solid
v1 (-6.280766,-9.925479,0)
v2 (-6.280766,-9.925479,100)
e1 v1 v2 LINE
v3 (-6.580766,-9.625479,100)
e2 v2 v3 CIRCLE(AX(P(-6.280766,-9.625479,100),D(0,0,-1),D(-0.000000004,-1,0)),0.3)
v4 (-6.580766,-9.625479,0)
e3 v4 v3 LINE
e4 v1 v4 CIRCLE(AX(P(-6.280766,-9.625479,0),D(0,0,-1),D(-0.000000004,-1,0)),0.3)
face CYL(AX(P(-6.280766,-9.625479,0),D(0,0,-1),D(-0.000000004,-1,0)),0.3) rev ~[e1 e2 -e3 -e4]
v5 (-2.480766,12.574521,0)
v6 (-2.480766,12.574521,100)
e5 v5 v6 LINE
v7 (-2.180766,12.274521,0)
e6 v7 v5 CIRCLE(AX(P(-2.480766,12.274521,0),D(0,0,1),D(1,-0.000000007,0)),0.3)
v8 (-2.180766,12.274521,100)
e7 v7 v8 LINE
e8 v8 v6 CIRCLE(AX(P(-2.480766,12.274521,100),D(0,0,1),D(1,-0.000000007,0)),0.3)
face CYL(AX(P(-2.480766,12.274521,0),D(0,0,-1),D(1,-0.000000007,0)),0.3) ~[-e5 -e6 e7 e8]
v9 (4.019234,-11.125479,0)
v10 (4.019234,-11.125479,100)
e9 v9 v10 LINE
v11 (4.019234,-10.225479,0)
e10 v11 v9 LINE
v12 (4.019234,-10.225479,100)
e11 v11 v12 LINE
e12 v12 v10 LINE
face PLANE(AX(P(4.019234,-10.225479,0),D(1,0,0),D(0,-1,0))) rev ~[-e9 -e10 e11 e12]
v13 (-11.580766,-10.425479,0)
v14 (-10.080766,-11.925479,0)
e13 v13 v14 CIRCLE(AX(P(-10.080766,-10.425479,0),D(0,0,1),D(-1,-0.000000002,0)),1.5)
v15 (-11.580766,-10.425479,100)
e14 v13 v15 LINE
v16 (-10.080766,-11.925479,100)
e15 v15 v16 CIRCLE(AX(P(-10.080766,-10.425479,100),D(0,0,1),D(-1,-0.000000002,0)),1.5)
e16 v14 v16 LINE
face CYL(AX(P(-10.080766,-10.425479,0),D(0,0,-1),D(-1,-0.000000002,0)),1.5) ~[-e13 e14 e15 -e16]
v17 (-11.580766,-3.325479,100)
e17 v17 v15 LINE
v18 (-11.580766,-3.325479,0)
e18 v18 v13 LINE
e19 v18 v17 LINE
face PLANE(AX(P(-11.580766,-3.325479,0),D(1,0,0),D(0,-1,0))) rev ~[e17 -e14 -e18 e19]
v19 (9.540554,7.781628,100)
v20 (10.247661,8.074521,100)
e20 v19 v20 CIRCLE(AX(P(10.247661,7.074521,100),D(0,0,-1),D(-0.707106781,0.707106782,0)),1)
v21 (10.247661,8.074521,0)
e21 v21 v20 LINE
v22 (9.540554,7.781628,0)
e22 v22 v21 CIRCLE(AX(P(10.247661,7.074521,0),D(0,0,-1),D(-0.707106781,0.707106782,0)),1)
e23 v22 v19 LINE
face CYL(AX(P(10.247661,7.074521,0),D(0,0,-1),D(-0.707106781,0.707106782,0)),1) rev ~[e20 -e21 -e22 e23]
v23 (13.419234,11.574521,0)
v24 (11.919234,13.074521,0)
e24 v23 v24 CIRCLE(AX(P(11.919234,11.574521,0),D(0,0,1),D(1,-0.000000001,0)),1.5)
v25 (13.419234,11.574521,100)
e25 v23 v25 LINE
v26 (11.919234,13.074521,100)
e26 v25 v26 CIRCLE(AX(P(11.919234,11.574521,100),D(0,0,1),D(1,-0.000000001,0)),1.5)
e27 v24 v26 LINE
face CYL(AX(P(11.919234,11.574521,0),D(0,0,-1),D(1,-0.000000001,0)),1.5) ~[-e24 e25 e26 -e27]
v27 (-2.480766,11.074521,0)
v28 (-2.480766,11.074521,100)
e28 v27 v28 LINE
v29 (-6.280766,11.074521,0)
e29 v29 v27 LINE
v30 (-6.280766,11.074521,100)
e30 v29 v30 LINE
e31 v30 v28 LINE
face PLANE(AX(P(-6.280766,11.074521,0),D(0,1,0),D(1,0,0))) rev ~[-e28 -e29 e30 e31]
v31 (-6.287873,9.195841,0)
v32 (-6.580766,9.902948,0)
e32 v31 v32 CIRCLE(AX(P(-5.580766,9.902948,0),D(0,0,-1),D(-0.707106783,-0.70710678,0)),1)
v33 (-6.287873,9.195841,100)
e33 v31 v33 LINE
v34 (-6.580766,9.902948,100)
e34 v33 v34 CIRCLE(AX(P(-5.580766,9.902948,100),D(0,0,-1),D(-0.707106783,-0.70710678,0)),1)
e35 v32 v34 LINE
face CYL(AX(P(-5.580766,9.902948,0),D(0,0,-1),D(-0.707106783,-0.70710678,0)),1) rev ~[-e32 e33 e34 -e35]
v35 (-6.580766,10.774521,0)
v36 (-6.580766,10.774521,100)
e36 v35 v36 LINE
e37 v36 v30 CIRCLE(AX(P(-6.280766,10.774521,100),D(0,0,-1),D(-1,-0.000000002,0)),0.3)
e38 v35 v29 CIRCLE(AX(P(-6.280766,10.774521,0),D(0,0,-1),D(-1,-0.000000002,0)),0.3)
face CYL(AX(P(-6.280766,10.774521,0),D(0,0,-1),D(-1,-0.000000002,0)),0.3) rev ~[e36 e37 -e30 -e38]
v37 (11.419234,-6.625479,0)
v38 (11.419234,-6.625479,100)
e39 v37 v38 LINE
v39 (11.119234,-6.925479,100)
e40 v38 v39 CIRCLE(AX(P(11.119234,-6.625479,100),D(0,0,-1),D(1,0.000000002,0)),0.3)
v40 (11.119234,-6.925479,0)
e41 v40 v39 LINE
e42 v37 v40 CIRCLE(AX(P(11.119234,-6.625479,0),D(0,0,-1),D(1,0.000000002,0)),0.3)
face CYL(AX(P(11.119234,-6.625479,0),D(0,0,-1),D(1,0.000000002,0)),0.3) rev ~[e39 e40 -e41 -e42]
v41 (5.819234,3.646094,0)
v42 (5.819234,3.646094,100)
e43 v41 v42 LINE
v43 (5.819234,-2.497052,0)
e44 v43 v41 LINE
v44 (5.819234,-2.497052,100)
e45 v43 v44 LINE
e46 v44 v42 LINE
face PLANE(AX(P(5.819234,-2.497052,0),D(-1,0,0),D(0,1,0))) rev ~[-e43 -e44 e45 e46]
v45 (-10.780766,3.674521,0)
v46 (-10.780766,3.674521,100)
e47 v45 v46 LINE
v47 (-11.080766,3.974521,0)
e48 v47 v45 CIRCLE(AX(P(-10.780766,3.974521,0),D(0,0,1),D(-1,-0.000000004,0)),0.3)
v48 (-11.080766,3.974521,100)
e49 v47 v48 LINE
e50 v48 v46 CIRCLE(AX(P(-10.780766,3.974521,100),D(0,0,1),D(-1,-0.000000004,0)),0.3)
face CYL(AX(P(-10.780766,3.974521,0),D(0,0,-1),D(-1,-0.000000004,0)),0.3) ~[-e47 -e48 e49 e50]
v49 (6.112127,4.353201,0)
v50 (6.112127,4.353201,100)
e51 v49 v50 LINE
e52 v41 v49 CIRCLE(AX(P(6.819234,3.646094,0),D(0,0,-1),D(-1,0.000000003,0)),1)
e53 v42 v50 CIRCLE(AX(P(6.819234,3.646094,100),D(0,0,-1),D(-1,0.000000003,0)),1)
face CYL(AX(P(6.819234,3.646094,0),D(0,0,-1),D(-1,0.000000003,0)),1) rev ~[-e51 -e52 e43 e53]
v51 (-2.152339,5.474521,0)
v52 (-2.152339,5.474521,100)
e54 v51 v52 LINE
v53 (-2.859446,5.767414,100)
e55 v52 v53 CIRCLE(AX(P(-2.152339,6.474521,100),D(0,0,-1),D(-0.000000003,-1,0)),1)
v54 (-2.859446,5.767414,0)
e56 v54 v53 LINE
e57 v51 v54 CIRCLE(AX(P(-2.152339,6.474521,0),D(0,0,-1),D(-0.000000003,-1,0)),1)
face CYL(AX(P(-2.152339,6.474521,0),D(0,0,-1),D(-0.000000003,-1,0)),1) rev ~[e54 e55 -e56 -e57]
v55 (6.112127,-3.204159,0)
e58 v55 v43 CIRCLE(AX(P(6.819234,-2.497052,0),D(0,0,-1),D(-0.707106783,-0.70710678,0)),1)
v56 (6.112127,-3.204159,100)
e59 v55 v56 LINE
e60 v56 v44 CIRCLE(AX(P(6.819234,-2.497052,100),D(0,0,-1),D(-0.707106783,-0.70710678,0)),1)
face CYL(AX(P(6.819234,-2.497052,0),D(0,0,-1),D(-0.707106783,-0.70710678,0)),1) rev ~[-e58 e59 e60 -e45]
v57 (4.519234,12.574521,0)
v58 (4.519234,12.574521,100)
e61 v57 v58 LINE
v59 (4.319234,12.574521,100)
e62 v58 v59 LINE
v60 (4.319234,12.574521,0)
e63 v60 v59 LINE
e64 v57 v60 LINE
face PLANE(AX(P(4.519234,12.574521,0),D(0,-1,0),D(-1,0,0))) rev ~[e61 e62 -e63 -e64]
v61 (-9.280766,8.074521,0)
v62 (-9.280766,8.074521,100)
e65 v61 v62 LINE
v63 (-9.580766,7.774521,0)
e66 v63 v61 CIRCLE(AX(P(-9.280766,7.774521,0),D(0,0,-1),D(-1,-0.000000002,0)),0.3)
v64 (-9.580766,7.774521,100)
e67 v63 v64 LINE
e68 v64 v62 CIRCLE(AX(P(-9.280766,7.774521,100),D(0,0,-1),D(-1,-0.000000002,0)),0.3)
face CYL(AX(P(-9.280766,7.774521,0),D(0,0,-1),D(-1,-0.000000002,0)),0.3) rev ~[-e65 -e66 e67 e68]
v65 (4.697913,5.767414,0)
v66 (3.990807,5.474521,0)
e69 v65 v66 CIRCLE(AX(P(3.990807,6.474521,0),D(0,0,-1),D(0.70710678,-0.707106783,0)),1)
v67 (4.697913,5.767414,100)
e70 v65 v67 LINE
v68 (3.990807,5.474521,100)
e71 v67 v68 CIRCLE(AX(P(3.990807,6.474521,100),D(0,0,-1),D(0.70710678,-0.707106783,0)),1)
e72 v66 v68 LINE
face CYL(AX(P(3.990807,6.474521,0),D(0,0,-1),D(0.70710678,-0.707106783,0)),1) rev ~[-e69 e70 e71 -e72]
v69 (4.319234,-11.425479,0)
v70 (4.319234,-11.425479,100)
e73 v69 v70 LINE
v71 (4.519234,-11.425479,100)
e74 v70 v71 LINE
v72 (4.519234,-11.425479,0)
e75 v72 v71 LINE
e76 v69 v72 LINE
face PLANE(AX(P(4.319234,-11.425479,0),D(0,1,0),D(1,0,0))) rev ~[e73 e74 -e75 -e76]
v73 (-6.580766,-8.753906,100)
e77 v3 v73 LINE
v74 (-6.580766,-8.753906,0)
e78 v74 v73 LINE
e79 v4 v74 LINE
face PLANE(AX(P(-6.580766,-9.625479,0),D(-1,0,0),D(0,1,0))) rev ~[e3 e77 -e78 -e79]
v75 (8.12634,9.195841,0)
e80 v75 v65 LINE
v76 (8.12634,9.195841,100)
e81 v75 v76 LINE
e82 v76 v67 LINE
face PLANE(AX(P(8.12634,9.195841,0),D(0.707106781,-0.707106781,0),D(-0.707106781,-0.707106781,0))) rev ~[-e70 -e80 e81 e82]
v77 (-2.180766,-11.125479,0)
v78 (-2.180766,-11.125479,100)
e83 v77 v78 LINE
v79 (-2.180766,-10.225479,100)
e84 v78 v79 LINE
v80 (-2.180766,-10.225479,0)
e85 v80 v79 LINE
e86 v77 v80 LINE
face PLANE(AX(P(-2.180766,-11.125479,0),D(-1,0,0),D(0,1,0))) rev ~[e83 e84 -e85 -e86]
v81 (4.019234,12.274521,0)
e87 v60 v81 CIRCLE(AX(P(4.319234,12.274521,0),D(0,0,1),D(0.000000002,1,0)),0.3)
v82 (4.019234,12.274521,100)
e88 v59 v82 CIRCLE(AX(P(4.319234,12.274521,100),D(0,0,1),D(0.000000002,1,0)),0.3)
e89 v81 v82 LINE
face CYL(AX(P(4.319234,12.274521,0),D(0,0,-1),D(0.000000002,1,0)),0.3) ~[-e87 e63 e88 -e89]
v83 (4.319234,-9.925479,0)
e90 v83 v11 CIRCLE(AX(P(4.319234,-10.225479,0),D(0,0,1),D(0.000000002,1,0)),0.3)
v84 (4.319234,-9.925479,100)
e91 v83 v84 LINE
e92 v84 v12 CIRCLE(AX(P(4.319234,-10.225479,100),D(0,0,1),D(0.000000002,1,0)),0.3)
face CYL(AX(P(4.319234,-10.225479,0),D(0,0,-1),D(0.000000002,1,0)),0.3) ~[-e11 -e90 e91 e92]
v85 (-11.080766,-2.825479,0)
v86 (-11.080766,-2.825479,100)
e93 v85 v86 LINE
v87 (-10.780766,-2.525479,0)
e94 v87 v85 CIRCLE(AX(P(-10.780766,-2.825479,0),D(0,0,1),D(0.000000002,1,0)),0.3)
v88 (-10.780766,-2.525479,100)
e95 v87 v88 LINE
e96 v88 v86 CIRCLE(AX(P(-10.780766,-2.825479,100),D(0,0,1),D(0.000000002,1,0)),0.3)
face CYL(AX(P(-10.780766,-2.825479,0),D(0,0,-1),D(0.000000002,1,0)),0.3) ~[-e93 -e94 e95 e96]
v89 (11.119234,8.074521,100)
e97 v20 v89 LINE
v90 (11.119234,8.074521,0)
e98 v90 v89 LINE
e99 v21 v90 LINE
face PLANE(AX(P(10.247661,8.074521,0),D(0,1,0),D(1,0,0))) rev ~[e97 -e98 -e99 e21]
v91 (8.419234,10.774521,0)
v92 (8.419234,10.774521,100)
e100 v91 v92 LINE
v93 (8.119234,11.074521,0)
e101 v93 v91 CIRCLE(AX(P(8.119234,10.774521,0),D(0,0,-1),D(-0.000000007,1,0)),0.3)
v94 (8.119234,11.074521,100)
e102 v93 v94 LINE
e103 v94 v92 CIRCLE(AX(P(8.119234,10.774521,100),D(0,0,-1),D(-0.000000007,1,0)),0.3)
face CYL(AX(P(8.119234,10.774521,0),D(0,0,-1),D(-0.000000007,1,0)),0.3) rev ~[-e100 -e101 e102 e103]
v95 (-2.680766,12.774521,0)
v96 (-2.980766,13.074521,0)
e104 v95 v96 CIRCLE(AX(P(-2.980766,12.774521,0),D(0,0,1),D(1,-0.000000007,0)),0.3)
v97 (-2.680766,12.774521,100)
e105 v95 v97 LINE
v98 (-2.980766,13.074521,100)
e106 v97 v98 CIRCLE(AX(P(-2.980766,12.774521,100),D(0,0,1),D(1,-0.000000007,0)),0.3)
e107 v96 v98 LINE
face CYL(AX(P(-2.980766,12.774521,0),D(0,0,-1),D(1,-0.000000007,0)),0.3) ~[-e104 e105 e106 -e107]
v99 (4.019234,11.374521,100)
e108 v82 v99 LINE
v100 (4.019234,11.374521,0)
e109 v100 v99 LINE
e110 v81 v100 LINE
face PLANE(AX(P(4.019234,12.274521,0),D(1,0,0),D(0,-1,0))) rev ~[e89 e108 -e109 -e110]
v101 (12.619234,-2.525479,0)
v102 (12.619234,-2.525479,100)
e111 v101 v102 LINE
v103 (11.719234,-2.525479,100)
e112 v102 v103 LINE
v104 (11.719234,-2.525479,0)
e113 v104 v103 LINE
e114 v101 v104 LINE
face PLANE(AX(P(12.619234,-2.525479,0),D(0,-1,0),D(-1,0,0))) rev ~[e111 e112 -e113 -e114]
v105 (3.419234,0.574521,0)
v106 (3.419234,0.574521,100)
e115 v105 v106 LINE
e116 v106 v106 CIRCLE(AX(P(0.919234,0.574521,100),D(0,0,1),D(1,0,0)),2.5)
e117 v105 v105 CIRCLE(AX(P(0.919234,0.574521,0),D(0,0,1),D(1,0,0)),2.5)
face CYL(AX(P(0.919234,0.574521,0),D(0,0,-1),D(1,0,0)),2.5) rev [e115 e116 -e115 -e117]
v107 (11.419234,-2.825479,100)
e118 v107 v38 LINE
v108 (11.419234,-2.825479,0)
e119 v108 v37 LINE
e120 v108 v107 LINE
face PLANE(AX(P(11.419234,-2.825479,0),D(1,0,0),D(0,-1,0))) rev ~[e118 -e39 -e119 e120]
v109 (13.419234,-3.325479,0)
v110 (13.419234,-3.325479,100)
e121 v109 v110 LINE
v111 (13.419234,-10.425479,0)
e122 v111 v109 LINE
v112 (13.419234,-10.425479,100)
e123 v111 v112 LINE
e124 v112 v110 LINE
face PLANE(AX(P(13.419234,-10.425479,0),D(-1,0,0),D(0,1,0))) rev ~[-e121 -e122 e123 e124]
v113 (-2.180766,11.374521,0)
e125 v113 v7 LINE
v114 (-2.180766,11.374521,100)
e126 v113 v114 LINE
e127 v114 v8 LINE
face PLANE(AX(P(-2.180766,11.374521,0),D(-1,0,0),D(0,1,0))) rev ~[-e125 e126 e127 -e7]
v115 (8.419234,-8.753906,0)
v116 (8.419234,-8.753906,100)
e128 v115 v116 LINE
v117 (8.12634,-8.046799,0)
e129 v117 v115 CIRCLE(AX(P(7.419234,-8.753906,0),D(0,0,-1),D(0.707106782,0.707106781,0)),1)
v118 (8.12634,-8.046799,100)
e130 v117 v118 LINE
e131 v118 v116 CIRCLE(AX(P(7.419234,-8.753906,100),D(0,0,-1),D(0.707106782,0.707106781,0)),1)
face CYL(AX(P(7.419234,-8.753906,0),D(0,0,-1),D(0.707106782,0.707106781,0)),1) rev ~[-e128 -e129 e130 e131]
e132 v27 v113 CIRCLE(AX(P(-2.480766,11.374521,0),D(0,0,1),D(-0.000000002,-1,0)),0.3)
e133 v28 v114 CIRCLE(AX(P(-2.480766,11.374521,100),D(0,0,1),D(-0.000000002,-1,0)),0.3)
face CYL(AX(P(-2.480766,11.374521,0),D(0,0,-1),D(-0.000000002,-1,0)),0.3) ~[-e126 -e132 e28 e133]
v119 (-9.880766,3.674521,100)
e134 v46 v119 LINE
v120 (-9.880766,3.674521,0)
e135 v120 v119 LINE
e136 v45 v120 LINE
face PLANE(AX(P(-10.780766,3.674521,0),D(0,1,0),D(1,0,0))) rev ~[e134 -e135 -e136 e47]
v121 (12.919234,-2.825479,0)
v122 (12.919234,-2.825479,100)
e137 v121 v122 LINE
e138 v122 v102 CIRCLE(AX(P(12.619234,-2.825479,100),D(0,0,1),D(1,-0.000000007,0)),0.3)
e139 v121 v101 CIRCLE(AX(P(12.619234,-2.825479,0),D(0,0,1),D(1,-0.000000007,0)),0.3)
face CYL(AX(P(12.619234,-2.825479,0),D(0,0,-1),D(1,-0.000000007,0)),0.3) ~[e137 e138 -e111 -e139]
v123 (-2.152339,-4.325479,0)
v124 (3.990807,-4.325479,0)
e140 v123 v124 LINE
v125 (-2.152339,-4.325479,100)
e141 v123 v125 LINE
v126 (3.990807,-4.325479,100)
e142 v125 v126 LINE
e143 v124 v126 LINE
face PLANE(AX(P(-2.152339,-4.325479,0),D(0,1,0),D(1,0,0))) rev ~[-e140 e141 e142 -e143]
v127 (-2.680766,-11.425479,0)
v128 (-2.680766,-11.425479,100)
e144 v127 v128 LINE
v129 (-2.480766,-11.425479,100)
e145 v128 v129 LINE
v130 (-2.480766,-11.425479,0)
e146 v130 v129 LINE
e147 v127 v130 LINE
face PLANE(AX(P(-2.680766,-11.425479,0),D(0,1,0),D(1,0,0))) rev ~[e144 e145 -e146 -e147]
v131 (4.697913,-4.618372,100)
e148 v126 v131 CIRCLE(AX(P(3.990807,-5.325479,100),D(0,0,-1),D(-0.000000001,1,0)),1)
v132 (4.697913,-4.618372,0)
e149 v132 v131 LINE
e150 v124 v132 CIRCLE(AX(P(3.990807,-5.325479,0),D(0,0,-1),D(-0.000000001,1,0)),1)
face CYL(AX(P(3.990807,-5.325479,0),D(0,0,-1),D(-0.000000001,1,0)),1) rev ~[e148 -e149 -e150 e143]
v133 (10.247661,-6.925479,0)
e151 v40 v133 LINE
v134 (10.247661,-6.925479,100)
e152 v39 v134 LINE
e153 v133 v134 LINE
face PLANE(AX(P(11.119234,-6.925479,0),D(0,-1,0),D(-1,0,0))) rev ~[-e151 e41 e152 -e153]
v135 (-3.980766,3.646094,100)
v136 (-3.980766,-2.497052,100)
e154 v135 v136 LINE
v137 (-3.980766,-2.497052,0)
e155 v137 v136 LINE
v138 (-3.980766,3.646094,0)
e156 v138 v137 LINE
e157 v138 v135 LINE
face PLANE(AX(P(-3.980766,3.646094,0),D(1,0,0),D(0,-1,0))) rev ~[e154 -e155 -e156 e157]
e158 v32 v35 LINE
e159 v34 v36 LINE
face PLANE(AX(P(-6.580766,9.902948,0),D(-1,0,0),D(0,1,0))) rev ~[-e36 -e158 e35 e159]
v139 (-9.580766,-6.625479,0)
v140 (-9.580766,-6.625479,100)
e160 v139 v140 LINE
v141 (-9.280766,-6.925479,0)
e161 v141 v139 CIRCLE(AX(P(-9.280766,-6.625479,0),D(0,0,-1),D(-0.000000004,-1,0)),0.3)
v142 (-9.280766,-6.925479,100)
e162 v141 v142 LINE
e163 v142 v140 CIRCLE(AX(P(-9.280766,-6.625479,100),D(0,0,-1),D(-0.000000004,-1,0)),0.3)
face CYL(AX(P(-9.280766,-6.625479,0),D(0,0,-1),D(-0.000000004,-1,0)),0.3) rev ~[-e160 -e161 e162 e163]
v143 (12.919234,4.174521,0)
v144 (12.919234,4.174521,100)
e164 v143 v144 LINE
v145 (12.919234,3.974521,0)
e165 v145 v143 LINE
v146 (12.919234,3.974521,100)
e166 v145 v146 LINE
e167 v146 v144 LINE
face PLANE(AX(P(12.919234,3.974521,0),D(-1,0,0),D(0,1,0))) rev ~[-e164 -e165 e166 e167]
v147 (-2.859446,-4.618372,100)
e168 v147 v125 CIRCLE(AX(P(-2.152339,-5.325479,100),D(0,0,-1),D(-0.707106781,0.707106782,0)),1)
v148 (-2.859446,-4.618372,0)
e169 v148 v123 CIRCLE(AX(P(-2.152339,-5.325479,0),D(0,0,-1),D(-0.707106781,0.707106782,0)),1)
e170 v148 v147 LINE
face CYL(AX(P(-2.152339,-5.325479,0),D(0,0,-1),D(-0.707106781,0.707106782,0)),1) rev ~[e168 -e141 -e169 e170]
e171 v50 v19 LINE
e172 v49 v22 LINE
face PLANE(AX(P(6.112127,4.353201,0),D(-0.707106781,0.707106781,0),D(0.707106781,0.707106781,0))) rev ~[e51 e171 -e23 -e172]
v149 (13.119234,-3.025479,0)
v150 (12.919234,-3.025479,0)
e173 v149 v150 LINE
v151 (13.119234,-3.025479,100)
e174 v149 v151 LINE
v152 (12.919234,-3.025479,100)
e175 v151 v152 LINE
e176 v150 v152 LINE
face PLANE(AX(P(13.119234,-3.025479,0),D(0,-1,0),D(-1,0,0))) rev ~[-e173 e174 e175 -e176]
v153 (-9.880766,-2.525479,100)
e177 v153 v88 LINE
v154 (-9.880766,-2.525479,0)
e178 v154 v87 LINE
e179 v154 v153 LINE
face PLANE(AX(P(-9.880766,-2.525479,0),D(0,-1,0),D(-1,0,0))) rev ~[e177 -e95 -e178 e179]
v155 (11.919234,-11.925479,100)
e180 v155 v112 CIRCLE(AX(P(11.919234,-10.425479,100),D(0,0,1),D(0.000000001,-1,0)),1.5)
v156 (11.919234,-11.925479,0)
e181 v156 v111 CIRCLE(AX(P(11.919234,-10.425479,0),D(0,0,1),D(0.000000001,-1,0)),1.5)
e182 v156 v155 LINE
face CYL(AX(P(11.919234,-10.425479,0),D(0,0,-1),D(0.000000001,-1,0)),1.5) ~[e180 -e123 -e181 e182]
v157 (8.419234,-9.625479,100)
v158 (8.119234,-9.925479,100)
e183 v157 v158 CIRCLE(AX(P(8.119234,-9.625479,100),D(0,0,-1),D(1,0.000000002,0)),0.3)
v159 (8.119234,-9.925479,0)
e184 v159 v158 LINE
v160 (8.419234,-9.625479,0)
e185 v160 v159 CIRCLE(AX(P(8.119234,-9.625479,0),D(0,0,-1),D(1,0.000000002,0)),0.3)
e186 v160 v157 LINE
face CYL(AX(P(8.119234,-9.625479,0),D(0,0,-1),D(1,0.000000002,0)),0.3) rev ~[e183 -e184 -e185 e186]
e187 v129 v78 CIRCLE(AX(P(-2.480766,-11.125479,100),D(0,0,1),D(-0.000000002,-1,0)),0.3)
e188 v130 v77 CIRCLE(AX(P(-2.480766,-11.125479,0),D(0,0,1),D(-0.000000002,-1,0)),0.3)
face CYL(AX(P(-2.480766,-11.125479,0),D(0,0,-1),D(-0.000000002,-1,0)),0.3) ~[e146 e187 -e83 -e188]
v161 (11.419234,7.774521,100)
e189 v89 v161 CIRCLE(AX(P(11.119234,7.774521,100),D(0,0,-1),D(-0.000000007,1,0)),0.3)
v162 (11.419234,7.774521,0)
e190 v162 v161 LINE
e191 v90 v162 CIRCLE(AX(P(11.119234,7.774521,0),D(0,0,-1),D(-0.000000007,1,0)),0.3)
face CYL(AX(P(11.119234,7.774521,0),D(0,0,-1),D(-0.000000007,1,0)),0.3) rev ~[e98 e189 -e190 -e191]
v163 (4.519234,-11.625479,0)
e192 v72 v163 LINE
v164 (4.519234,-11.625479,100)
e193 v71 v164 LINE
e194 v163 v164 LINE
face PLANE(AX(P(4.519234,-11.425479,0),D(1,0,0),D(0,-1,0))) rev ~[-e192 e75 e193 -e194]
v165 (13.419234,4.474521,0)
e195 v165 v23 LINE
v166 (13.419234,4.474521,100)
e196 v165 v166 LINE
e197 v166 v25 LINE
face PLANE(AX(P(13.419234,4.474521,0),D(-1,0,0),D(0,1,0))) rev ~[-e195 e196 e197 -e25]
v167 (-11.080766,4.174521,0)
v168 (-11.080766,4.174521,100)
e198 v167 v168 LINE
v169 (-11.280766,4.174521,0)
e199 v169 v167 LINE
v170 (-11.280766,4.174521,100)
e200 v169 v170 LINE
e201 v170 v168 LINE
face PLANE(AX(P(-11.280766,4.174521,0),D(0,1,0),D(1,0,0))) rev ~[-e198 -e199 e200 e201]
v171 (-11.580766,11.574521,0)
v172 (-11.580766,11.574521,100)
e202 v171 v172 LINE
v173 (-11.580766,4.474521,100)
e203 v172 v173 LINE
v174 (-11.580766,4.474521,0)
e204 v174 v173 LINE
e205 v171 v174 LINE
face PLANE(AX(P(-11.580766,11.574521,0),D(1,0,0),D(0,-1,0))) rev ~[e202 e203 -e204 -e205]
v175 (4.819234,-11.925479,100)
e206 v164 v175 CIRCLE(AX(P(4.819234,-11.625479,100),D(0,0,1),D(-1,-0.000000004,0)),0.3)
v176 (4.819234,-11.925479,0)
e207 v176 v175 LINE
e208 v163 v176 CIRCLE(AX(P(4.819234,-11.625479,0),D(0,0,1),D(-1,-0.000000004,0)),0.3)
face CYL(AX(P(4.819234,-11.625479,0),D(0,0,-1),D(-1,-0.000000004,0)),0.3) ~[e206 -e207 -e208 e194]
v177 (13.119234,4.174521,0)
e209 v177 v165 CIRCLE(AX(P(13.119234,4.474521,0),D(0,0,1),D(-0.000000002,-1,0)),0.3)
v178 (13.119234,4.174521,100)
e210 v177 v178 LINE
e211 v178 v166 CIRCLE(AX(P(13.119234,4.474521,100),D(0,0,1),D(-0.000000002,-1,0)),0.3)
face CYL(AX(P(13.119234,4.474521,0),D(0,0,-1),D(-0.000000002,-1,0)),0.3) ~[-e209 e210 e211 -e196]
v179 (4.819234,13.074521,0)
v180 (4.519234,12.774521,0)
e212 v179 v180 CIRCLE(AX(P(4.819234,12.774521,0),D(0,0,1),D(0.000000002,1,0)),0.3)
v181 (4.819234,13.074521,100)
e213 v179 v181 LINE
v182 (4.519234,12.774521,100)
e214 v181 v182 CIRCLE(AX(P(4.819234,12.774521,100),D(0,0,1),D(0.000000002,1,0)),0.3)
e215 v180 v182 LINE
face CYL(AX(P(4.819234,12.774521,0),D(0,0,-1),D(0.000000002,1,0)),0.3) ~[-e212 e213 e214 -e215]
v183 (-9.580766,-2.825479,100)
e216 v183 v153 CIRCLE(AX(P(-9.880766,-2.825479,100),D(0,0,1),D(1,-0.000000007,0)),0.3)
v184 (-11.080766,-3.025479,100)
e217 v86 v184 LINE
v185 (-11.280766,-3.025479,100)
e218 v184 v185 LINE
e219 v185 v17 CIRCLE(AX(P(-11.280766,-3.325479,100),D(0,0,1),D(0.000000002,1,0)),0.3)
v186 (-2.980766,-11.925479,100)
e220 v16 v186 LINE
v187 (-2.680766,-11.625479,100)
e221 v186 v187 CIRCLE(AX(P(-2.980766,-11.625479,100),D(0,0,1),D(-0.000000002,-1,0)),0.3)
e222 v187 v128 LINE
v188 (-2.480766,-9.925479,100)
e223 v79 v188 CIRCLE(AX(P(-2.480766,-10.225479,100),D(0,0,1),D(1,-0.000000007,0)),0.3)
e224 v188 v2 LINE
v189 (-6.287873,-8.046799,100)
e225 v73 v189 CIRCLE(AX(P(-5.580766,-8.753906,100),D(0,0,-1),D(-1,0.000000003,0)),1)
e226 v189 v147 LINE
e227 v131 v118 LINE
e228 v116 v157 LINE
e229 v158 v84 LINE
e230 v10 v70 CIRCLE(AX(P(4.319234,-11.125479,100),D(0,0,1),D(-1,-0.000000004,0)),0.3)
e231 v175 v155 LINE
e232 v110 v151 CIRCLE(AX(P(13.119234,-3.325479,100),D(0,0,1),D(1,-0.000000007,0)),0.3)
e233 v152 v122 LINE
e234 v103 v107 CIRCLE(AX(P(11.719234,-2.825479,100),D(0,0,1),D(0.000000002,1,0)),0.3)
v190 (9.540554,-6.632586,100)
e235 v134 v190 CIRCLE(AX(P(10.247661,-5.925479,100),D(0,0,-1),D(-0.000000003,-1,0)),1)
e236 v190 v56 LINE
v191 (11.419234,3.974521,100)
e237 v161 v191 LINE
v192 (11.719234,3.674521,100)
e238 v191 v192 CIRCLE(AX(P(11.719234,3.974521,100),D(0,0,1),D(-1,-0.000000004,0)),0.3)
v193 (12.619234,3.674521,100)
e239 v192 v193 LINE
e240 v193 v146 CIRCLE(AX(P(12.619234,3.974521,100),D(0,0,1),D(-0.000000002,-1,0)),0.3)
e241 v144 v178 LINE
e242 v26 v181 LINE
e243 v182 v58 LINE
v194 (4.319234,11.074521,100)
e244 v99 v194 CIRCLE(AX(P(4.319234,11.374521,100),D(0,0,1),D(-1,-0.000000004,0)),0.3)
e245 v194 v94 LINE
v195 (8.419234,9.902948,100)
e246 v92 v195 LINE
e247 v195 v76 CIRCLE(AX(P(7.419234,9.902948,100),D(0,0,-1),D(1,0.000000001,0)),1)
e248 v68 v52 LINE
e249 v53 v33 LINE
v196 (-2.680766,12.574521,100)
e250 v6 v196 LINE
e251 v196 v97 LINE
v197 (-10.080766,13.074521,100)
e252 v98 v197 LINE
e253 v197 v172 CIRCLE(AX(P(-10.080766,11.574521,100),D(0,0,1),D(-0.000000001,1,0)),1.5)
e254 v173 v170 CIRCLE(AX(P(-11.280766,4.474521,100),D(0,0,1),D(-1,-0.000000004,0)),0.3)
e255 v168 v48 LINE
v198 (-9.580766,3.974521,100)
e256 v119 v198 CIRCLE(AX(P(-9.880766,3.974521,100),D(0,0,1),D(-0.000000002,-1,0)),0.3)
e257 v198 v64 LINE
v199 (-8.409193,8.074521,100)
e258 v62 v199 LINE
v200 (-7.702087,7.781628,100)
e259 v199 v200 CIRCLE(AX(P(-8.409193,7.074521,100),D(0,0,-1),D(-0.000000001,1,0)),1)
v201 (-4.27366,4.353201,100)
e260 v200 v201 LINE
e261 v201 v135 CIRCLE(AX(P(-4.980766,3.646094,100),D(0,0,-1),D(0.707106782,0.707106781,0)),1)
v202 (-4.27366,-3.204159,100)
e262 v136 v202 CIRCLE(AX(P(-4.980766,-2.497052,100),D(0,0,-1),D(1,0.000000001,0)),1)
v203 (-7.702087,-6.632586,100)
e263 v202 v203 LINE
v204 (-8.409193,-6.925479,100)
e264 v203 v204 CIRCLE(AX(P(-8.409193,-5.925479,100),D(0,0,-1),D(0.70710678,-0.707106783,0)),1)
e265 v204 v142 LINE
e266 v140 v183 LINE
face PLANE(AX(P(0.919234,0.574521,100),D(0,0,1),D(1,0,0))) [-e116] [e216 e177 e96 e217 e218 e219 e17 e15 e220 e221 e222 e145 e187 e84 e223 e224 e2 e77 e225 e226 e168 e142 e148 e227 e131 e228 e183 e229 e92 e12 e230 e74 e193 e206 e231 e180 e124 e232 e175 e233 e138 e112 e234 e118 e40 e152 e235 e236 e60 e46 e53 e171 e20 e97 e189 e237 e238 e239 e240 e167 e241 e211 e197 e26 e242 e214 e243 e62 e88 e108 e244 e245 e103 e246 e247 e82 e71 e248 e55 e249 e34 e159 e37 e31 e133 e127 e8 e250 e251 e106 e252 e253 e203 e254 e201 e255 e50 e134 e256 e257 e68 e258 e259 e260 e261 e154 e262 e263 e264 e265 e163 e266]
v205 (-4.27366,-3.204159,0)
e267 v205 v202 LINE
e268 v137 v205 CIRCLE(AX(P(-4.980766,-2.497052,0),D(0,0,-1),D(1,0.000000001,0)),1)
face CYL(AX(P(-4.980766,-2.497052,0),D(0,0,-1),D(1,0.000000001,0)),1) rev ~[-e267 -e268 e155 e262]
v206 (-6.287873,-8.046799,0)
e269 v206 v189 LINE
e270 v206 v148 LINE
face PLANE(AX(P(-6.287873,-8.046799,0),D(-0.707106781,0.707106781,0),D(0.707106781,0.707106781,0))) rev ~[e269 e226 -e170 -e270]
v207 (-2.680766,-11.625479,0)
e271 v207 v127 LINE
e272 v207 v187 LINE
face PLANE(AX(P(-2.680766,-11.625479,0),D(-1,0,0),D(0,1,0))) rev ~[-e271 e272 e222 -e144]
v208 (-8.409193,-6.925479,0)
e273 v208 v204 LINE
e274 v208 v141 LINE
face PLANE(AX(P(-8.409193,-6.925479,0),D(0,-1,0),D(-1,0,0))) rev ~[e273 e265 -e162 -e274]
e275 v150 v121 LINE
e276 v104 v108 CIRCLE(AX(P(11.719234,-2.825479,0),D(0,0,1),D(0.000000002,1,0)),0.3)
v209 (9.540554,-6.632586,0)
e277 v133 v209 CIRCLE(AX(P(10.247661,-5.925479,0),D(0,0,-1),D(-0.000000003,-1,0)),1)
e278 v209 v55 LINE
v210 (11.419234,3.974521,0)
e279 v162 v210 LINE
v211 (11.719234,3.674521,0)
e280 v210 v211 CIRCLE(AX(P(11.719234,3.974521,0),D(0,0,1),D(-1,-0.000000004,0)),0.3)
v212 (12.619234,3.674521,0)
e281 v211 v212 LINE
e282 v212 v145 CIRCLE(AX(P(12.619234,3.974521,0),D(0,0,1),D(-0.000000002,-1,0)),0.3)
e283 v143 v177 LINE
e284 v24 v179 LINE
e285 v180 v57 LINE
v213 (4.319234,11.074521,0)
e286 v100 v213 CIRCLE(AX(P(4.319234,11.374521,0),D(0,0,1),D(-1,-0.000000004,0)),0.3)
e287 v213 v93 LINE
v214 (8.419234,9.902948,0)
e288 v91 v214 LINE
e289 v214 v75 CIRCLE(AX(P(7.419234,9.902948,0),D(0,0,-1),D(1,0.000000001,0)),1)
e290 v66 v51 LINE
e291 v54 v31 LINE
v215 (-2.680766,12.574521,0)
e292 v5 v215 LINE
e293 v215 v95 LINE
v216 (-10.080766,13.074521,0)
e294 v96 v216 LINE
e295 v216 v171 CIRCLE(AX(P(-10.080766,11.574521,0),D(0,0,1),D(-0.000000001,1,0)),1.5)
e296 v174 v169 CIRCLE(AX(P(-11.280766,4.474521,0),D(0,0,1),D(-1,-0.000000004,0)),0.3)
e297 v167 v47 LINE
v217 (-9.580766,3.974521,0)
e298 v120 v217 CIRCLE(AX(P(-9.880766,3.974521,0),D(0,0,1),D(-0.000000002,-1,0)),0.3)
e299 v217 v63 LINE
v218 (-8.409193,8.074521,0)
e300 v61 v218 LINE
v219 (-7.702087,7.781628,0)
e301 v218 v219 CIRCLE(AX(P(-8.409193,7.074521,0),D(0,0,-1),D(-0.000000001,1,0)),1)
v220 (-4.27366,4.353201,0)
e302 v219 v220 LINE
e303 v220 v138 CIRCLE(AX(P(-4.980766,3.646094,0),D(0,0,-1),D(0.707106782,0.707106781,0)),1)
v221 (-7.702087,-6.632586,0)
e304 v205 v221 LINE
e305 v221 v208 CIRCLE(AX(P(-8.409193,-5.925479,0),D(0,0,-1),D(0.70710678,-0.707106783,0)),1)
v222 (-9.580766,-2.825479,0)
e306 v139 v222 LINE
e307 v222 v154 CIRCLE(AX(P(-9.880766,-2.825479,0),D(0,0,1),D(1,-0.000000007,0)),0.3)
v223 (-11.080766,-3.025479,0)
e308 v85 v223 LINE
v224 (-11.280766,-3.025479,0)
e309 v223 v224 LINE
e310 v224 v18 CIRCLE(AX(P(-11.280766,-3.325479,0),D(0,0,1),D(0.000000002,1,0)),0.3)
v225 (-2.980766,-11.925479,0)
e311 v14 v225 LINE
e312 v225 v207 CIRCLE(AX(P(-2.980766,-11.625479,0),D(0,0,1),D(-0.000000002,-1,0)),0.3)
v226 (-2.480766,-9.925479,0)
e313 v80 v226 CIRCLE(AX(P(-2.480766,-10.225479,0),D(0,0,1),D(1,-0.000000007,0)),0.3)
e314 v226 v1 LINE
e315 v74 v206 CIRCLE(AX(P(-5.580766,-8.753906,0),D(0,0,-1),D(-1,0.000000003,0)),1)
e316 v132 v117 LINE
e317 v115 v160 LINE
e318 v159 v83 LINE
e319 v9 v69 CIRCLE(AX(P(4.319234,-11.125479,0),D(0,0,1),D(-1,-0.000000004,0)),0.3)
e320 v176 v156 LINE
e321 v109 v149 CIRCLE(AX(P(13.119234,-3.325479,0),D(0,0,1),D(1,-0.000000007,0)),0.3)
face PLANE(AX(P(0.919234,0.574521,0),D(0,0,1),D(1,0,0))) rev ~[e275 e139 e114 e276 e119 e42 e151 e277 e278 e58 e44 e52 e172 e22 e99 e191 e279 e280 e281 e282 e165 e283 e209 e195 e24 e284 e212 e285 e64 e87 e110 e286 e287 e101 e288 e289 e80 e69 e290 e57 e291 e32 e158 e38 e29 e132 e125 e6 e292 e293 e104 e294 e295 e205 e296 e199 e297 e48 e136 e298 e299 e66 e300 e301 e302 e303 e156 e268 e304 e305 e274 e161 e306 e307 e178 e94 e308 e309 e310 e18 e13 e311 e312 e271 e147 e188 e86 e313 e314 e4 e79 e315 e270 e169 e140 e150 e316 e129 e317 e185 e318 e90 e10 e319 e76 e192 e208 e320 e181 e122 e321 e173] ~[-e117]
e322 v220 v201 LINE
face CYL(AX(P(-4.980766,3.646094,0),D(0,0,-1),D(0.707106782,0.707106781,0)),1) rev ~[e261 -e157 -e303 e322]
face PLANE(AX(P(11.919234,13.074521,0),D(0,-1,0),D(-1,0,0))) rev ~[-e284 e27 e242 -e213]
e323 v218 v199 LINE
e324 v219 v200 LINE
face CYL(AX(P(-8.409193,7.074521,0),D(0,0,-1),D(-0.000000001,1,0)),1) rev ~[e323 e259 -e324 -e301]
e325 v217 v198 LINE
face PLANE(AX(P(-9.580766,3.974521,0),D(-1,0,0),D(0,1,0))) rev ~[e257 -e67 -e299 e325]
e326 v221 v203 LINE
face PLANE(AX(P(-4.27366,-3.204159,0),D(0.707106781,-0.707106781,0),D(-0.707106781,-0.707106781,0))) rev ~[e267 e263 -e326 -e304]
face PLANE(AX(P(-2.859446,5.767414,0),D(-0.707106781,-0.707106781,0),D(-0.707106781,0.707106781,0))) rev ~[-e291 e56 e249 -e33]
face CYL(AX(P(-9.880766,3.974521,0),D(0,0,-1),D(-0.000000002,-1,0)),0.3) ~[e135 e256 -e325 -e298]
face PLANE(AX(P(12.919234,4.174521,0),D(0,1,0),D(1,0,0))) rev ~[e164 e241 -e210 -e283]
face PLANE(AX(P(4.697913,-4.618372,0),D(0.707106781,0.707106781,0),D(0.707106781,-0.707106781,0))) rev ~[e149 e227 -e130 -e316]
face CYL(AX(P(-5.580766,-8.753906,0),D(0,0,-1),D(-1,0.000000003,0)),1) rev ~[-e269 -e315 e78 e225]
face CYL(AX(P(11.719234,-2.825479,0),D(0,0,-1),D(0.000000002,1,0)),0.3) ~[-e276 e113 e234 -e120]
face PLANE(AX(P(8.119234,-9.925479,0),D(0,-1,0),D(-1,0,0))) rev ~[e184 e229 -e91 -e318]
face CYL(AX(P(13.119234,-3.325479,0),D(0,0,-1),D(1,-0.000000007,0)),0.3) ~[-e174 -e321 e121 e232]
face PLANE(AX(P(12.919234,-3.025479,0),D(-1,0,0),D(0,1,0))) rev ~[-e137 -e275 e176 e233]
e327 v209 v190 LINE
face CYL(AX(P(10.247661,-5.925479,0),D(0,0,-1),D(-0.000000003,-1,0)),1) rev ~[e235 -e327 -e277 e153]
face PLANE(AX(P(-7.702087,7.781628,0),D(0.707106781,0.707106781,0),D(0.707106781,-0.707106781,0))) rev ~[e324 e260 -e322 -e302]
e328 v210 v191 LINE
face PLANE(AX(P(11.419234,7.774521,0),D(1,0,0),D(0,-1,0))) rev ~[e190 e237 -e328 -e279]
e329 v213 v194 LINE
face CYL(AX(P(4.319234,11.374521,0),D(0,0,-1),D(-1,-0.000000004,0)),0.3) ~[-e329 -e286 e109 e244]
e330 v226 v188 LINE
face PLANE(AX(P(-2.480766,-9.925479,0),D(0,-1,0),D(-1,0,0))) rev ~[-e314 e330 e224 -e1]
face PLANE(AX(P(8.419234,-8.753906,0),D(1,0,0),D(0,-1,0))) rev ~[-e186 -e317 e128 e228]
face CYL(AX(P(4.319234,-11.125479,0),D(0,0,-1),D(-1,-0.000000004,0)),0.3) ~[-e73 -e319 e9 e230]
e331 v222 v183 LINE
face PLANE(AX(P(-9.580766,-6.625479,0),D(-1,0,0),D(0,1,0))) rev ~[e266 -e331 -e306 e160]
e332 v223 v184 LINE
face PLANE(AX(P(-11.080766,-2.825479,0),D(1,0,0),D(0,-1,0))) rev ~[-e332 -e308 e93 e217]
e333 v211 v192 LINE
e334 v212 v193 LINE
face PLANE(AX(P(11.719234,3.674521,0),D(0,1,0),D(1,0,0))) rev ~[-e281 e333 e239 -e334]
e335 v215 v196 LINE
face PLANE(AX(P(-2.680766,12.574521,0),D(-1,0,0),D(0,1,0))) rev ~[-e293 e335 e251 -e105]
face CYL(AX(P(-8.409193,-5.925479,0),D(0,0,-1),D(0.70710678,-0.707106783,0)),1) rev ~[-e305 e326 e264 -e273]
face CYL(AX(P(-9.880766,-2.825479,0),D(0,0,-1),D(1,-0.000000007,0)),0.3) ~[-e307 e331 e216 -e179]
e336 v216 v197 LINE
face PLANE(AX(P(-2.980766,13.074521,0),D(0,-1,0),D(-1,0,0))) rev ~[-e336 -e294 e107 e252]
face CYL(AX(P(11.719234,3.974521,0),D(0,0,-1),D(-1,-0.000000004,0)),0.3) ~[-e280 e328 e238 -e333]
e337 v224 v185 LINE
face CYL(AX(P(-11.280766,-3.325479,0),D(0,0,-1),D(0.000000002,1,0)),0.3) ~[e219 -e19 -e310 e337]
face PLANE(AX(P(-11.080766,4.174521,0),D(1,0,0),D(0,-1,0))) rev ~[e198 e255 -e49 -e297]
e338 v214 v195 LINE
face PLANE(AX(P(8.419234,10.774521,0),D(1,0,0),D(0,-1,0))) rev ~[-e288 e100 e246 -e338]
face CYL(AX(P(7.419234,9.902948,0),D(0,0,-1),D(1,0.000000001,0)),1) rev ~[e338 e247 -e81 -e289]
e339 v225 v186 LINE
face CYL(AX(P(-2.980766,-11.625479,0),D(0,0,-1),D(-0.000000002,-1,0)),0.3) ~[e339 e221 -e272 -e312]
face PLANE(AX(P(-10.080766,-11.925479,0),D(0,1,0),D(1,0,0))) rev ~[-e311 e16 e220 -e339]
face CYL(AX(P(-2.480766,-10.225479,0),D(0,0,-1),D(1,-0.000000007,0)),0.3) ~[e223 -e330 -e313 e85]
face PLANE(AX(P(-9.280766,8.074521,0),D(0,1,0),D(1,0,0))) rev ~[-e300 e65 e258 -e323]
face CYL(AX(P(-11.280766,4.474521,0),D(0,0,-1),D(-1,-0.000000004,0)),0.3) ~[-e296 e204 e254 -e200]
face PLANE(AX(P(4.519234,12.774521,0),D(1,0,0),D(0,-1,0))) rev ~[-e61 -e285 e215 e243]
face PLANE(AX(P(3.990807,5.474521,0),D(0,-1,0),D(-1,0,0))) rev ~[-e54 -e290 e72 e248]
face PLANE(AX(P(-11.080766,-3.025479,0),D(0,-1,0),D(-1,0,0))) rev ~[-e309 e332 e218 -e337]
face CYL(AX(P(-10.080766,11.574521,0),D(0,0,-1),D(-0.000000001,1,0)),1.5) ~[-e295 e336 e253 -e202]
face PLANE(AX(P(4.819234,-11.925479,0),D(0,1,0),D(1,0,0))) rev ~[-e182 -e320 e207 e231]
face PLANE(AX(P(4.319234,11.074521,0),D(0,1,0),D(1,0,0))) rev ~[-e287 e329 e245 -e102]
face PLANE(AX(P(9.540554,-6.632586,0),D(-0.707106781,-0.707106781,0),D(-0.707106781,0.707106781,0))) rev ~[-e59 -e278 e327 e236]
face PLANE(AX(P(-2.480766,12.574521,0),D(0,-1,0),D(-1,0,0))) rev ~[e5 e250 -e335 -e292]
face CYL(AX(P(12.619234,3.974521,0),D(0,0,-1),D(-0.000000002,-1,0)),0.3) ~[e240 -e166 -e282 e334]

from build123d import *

# Parameters (mm, degrees)
SKETCH_1_R      = 2.5
EXTRUDE_1_DEPTH = 100


with BuildPart() as part:
    # 草图1 → 凸台-拉伸1 (new body)
    with BuildSketch(Plane.XY):
        with BuildLine():
            Line((-11.580766307, 11.574521058), (-11.580766307, 4.474521058))
            ThreePointArc((-11.580766307, 4.474521058), (-11.492898341, 4.262389024), (-11.280766307, 4.174521058))
            Line((-11.280766307, 4.174521058), (-11.080766307, 4.174521058))
            Line((-11.080766307, 4.174521058), (-11.080766307, 3.974521058))
            ThreePointArc((-11.080766307, 3.974521058), (-10.992898341, 3.762389024), (-10.780766307, 3.674521058))
            Line((-10.780766307, 3.674521058), (-9.880766307, 3.674521058))
            ThreePointArc((-9.880766307, 3.674521058), (-9.668634272, 3.762389024), (-9.580766307, 3.974521058))
            Line((-9.580766307, 3.974521058), (-9.580766307, 7.774521058))
            ThreePointArc((-9.580766307, 7.774521058), (-9.492898341, 7.986653093), (-9.280766307, 8.074521058))
            Line((-9.280766307, 8.074521058), (-8.409193431, 8.074521058))
            ThreePointArc((-8.409193431, 8.074521058), (-8.026509999, 7.998400591), (-7.70208665, 7.78162784))
            Line((-7.70208665, 7.78162784), (-4.273659525, 4.353200715))
            ThreePointArc((-4.273659525, 4.353200715), (-4.056886774, 4.028777366), (-3.980766307, 3.646093934))
            Line((-3.980766307, 3.646093934), (-3.980766307, -2.497051817))
            ThreePointArc((-3.980766307, -2.497051817), (-4.056886774, -2.879735249), (-4.273659525, -3.204158598))
            Line((-4.273659525, -3.204158598), (-7.70208665, -6.632585723))
            ThreePointArc((-7.70208665, -6.632585723), (-8.026509999, -6.849358474), (-8.409193431, -6.925478942))
            Line((-8.409193431, -6.925478942), (-9.280766307, -6.925478942))
            ThreePointArc((-9.280766307, -6.925478942), (-9.492898341, -6.837610976), (-9.580766307, -6.625478942))
            Line((-9.580766307, -6.625478942), (-9.580766307, -2.825478942))
            ThreePointArc((-9.580766307, -2.825478942), (-9.668634272, -2.613346907), (-9.880766307, -2.525478942))
            Line((-9.880766307, -2.525478942), (-10.780766307, -2.525478942))
            ThreePointArc((-10.780766307, -2.525478942), (-10.992898341, -2.613346907), (-11.080766307, -2.825478942))
            Line((-11.080766307, -2.825478942), (-11.080766307, -3.025478942))
            Line((-11.080766307, -3.025478942), (-11.280766307, -3.025478942))
            ThreePointArc((-11.280766307, -3.025478942), (-11.492898341, -3.113346907), (-11.580766307, -3.325478942))
            Line((-11.580766307, -3.325478942), (-11.580766307, -10.425478942))
            ThreePointArc((-11.580766307, -10.425478942), (-11.141426478, -11.486139113), (-10.080766307, -11.925478942))
            Line((-10.080766307, -11.925478942), (-2.980766307, -11.925478942))
            ThreePointArc((-2.980766307, -11.925478942), (-2.768634272, -11.837610976), (-2.680766307, -11.625478942))
            Line((-2.680766307, -11.625478942), (-2.680766307, -11.425478942))
            Line((-2.680766307, -11.425478942), (-2.480766307, -11.425478942))
            ThreePointArc((-2.480766307, -11.425478942), (-2.268634272, -11.337610976), (-2.180766307, -11.125478942))
            Line((-2.180766307, -11.125478942), (-2.180766307, -10.225478942))
            ThreePointArc((-2.180766307, -10.225478942), (-2.268634272, -10.013346907), (-2.480766307, -9.925478942))
            Line((-2.480766307, -9.925478942), (-6.280766307, -9.925478942))
            ThreePointArc((-6.280766307, -9.925478942), (-6.492898341, -9.837610976), (-6.580766307, -9.625478942))
            Line((-6.580766307, -9.625478942), (-6.580766307, -8.753906066))
            ThreePointArc((-6.580766307, -8.753906066), (-6.504645839, -8.371222634), (-6.287873088, -8.046799285))
            Line((-6.287873088, -8.046799285), (-2.859445963, -4.61837216))
            ThreePointArc((-2.859445963, -4.61837216), (-2.535022614, -4.401599409), (-2.152339182, -4.325478942))
            Line((-2.152339182, -4.325478942), (3.990806569, -4.325478942))
            ThreePointArc((3.990806569, -4.325478942), (4.373490001, -4.401599409), (4.69791335, -4.61837216))
            Line((4.69791335, -4.61837216), (8.126340475, -8.046799285))
            ThreePointArc((8.126340475, -8.046799285), (8.343113226, -8.371222634), (8.419233693, -8.753906066))
            Line((8.419233693, -8.753906066), (8.419233693, -9.625478942))
            ThreePointArc((8.419233693, -9.625478942), (8.331365728, -9.837610976), (8.119233693, -9.925478942))
            Line((8.119233693, -9.925478942), (4.319233693, -9.925478942))
            ThreePointArc((4.319233693, -9.925478942), (4.107101659, -10.013346907), (4.019233693, -10.225478942))
            Line((4.019233693, -10.225478942), (4.019233693, -11.125478942))
            ThreePointArc((4.019233693, -11.125478942), (4.107101659, -11.337610976), (4.319233693, -11.425478942))
            Line((4.319233693, -11.425478942), (4.519233693, -11.425478942))
            Line((4.519233693, -11.425478942), (4.519233693, -11.625478942))
            ThreePointArc((4.519233693, -11.625478942), (4.607101659, -11.837610976), (4.819233693, -11.925478942))
            Line((4.819233693, -11.925478942), (11.919233693, -11.925478942))
            ThreePointArc((11.919233693, -11.925478942), (12.979893865, -11.486139113), (13.419233693, -10.425478942))
            Line((13.419233693, -10.425478942), (13.419233693, -3.325478942))
            ThreePointArc((13.419233693, -3.325478942), (13.331365728, -3.113346907), (13.119233693, -3.025478942))
            Line((13.119233693, -3.025478942), (12.919233693, -3.025478942))
            Line((12.919233693, -3.025478942), (12.919233693, -2.825478942))
            ThreePointArc((12.919233693, -2.825478942), (12.831365728, -2.613346907), (12.619233693, -2.525478942))
            Line((12.619233693, -2.525478942), (11.719233693, -2.525478942))
            ThreePointArc((11.719233693, -2.525478942), (11.507101659, -2.613346907), (11.419233693, -2.825478942))
            Line((11.419233693, -2.825478942), (11.419233693, -6.625478942))
            ThreePointArc((11.419233693, -6.625478942), (11.331365728, -6.837610976), (11.119233693, -6.925478942))
            Line((11.119233693, -6.925478942), (10.247660818, -6.925478942))
            ThreePointArc((10.247660818, -6.925478942), (9.864977386, -6.849358474), (9.540554037, -6.632585723))
            Line((9.540554037, -6.632585723), (6.112126912, -3.204158598))
            ThreePointArc((6.112126912, -3.204158598), (5.895354161, -2.879735249), (5.819233693, -2.497051817))
            Line((5.819233693, -2.497051817), (5.819233693, 3.646093934))
            ThreePointArc((5.819233693, 3.646093934), (5.895354161, 4.028777366), (6.112126912, 4.353200715))
            Line((6.112126912, 4.353200715), (9.540554037, 7.78162784))
            ThreePointArc((9.540554037, 7.78162784), (9.864977386, 7.998400591), (10.247660818, 8.074521058))
            Line((10.247660818, 8.074521058), (11.119233693, 8.074521058))
            ThreePointArc((11.119233693, 8.074521058), (11.331365728, 7.986653093), (11.419233693, 7.774521058))
            Line((11.419233693, 7.774521058), (11.419233693, 3.974521058))
            ThreePointArc((11.419233693, 3.974521058), (11.507101659, 3.762389024), (11.719233693, 3.674521058))
            Line((11.719233693, 3.674521058), (12.619233693, 3.674521058))
            ThreePointArc((12.619233693, 3.674521058), (12.831365728, 3.762389024), (12.919233693, 3.974521058))
            Line((12.919233693, 3.974521058), (12.919233693, 4.174521058))
            Line((12.919233693, 4.174521058), (13.119233693, 4.174521058))
            ThreePointArc((13.119233693, 4.174521058), (13.331365728, 4.262389024), (13.419233693, 4.474521058))
            Line((13.419233693, 4.474521058), (13.419233693, 11.574521058))
            ThreePointArc((13.419233693, 11.574521058), (12.979893865, 12.63518123), (11.919233693, 13.074521058))
            Line((11.919233693, 13.074521058), (4.819233693, 13.074521058))
            ThreePointArc((4.819233693, 13.074521058), (4.607101659, 12.986653093), (4.519233693, 12.774521058))
            Line((4.519233693, 12.774521058), (4.519233693, 12.574521058))
            Line((4.519233693, 12.574521058), (4.319233693, 12.574521058))
            ThreePointArc((4.319233693, 12.574521058), (4.107101659, 12.486653093), (4.019233693, 12.274521058))
            Line((4.019233693, 12.274521058), (4.019233693, 11.374521058))
            ThreePointArc((4.019233693, 11.374521058), (4.107101659, 11.162389024), (4.319233693, 11.074521058))
            Line((4.319233693, 11.074521058), (8.119233693, 11.074521058))
            ThreePointArc((8.119233693, 11.074521058), (8.331365728, 10.986653093), (8.419233693, 10.774521058))
            Line((8.419233693, 10.774521058), (8.419233693, 9.902948183))
            ThreePointArc((8.419233693, 9.902948183), (8.343113226, 9.520264751), (8.126340475, 9.195841402))
            Line((8.126340475, 9.195841402), (4.69791335, 5.767414277))
            ThreePointArc((4.69791335, 5.767414277), (4.373490001, 5.550641526), (3.990806569, 5.474521058))
            Line((3.990806569, 5.474521058), (-2.152339182, 5.474521058))
            ThreePointArc((-2.152339182, 5.474521058), (-2.535022614, 5.550641526), (-2.859445963, 5.767414277))
            Line((-2.859445963, 5.767414277), (-6.287873088, 9.195841402))
            ThreePointArc((-6.287873088, 9.195841402), (-6.504645839, 9.520264751), (-6.580766307, 9.902948183))
            Line((-6.580766307, 9.902948183), (-6.580766307, 10.774521058))
            ThreePointArc((-6.580766307, 10.774521058), (-6.492898341, 10.986653093), (-6.280766307, 11.074521058))
            Line((-6.280766307, 11.074521058), (-2.480766307, 11.074521058))
            ThreePointArc((-2.480766307, 11.074521058), (-2.268634272, 11.162389024), (-2.180766307, 11.374521058))
            Line((-2.180766307, 11.374521058), (-2.180766307, 12.274521058))
            ThreePointArc((-2.180766307, 12.274521058), (-2.268634272, 12.486653093), (-2.480766307, 12.574521058))
            Line((-2.480766307, 12.574521058), (-2.680766307, 12.574521058))
            Line((-2.680766307, 12.574521058), (-2.680766307, 12.774521058))
            ThreePointArc((-2.680766307, 12.774521058), (-2.768634272, 12.986653093), (-2.980766307, 13.074521058))
            Line((-2.980766307, 13.074521058), (-10.080766307, 13.074521058))
            ThreePointArc((-10.080766307, 13.074521058), (-11.141426478, 12.63518123), (-11.580766307, 11.574521058))
        make_face()
        with Locations((0.919233693, 0.574521058)):
            Circle(SKETCH_1_R, mode=Mode.SUBTRACT)
    extrude(amount=EXTRUDE_1_DEPTH)


solid = part.part
